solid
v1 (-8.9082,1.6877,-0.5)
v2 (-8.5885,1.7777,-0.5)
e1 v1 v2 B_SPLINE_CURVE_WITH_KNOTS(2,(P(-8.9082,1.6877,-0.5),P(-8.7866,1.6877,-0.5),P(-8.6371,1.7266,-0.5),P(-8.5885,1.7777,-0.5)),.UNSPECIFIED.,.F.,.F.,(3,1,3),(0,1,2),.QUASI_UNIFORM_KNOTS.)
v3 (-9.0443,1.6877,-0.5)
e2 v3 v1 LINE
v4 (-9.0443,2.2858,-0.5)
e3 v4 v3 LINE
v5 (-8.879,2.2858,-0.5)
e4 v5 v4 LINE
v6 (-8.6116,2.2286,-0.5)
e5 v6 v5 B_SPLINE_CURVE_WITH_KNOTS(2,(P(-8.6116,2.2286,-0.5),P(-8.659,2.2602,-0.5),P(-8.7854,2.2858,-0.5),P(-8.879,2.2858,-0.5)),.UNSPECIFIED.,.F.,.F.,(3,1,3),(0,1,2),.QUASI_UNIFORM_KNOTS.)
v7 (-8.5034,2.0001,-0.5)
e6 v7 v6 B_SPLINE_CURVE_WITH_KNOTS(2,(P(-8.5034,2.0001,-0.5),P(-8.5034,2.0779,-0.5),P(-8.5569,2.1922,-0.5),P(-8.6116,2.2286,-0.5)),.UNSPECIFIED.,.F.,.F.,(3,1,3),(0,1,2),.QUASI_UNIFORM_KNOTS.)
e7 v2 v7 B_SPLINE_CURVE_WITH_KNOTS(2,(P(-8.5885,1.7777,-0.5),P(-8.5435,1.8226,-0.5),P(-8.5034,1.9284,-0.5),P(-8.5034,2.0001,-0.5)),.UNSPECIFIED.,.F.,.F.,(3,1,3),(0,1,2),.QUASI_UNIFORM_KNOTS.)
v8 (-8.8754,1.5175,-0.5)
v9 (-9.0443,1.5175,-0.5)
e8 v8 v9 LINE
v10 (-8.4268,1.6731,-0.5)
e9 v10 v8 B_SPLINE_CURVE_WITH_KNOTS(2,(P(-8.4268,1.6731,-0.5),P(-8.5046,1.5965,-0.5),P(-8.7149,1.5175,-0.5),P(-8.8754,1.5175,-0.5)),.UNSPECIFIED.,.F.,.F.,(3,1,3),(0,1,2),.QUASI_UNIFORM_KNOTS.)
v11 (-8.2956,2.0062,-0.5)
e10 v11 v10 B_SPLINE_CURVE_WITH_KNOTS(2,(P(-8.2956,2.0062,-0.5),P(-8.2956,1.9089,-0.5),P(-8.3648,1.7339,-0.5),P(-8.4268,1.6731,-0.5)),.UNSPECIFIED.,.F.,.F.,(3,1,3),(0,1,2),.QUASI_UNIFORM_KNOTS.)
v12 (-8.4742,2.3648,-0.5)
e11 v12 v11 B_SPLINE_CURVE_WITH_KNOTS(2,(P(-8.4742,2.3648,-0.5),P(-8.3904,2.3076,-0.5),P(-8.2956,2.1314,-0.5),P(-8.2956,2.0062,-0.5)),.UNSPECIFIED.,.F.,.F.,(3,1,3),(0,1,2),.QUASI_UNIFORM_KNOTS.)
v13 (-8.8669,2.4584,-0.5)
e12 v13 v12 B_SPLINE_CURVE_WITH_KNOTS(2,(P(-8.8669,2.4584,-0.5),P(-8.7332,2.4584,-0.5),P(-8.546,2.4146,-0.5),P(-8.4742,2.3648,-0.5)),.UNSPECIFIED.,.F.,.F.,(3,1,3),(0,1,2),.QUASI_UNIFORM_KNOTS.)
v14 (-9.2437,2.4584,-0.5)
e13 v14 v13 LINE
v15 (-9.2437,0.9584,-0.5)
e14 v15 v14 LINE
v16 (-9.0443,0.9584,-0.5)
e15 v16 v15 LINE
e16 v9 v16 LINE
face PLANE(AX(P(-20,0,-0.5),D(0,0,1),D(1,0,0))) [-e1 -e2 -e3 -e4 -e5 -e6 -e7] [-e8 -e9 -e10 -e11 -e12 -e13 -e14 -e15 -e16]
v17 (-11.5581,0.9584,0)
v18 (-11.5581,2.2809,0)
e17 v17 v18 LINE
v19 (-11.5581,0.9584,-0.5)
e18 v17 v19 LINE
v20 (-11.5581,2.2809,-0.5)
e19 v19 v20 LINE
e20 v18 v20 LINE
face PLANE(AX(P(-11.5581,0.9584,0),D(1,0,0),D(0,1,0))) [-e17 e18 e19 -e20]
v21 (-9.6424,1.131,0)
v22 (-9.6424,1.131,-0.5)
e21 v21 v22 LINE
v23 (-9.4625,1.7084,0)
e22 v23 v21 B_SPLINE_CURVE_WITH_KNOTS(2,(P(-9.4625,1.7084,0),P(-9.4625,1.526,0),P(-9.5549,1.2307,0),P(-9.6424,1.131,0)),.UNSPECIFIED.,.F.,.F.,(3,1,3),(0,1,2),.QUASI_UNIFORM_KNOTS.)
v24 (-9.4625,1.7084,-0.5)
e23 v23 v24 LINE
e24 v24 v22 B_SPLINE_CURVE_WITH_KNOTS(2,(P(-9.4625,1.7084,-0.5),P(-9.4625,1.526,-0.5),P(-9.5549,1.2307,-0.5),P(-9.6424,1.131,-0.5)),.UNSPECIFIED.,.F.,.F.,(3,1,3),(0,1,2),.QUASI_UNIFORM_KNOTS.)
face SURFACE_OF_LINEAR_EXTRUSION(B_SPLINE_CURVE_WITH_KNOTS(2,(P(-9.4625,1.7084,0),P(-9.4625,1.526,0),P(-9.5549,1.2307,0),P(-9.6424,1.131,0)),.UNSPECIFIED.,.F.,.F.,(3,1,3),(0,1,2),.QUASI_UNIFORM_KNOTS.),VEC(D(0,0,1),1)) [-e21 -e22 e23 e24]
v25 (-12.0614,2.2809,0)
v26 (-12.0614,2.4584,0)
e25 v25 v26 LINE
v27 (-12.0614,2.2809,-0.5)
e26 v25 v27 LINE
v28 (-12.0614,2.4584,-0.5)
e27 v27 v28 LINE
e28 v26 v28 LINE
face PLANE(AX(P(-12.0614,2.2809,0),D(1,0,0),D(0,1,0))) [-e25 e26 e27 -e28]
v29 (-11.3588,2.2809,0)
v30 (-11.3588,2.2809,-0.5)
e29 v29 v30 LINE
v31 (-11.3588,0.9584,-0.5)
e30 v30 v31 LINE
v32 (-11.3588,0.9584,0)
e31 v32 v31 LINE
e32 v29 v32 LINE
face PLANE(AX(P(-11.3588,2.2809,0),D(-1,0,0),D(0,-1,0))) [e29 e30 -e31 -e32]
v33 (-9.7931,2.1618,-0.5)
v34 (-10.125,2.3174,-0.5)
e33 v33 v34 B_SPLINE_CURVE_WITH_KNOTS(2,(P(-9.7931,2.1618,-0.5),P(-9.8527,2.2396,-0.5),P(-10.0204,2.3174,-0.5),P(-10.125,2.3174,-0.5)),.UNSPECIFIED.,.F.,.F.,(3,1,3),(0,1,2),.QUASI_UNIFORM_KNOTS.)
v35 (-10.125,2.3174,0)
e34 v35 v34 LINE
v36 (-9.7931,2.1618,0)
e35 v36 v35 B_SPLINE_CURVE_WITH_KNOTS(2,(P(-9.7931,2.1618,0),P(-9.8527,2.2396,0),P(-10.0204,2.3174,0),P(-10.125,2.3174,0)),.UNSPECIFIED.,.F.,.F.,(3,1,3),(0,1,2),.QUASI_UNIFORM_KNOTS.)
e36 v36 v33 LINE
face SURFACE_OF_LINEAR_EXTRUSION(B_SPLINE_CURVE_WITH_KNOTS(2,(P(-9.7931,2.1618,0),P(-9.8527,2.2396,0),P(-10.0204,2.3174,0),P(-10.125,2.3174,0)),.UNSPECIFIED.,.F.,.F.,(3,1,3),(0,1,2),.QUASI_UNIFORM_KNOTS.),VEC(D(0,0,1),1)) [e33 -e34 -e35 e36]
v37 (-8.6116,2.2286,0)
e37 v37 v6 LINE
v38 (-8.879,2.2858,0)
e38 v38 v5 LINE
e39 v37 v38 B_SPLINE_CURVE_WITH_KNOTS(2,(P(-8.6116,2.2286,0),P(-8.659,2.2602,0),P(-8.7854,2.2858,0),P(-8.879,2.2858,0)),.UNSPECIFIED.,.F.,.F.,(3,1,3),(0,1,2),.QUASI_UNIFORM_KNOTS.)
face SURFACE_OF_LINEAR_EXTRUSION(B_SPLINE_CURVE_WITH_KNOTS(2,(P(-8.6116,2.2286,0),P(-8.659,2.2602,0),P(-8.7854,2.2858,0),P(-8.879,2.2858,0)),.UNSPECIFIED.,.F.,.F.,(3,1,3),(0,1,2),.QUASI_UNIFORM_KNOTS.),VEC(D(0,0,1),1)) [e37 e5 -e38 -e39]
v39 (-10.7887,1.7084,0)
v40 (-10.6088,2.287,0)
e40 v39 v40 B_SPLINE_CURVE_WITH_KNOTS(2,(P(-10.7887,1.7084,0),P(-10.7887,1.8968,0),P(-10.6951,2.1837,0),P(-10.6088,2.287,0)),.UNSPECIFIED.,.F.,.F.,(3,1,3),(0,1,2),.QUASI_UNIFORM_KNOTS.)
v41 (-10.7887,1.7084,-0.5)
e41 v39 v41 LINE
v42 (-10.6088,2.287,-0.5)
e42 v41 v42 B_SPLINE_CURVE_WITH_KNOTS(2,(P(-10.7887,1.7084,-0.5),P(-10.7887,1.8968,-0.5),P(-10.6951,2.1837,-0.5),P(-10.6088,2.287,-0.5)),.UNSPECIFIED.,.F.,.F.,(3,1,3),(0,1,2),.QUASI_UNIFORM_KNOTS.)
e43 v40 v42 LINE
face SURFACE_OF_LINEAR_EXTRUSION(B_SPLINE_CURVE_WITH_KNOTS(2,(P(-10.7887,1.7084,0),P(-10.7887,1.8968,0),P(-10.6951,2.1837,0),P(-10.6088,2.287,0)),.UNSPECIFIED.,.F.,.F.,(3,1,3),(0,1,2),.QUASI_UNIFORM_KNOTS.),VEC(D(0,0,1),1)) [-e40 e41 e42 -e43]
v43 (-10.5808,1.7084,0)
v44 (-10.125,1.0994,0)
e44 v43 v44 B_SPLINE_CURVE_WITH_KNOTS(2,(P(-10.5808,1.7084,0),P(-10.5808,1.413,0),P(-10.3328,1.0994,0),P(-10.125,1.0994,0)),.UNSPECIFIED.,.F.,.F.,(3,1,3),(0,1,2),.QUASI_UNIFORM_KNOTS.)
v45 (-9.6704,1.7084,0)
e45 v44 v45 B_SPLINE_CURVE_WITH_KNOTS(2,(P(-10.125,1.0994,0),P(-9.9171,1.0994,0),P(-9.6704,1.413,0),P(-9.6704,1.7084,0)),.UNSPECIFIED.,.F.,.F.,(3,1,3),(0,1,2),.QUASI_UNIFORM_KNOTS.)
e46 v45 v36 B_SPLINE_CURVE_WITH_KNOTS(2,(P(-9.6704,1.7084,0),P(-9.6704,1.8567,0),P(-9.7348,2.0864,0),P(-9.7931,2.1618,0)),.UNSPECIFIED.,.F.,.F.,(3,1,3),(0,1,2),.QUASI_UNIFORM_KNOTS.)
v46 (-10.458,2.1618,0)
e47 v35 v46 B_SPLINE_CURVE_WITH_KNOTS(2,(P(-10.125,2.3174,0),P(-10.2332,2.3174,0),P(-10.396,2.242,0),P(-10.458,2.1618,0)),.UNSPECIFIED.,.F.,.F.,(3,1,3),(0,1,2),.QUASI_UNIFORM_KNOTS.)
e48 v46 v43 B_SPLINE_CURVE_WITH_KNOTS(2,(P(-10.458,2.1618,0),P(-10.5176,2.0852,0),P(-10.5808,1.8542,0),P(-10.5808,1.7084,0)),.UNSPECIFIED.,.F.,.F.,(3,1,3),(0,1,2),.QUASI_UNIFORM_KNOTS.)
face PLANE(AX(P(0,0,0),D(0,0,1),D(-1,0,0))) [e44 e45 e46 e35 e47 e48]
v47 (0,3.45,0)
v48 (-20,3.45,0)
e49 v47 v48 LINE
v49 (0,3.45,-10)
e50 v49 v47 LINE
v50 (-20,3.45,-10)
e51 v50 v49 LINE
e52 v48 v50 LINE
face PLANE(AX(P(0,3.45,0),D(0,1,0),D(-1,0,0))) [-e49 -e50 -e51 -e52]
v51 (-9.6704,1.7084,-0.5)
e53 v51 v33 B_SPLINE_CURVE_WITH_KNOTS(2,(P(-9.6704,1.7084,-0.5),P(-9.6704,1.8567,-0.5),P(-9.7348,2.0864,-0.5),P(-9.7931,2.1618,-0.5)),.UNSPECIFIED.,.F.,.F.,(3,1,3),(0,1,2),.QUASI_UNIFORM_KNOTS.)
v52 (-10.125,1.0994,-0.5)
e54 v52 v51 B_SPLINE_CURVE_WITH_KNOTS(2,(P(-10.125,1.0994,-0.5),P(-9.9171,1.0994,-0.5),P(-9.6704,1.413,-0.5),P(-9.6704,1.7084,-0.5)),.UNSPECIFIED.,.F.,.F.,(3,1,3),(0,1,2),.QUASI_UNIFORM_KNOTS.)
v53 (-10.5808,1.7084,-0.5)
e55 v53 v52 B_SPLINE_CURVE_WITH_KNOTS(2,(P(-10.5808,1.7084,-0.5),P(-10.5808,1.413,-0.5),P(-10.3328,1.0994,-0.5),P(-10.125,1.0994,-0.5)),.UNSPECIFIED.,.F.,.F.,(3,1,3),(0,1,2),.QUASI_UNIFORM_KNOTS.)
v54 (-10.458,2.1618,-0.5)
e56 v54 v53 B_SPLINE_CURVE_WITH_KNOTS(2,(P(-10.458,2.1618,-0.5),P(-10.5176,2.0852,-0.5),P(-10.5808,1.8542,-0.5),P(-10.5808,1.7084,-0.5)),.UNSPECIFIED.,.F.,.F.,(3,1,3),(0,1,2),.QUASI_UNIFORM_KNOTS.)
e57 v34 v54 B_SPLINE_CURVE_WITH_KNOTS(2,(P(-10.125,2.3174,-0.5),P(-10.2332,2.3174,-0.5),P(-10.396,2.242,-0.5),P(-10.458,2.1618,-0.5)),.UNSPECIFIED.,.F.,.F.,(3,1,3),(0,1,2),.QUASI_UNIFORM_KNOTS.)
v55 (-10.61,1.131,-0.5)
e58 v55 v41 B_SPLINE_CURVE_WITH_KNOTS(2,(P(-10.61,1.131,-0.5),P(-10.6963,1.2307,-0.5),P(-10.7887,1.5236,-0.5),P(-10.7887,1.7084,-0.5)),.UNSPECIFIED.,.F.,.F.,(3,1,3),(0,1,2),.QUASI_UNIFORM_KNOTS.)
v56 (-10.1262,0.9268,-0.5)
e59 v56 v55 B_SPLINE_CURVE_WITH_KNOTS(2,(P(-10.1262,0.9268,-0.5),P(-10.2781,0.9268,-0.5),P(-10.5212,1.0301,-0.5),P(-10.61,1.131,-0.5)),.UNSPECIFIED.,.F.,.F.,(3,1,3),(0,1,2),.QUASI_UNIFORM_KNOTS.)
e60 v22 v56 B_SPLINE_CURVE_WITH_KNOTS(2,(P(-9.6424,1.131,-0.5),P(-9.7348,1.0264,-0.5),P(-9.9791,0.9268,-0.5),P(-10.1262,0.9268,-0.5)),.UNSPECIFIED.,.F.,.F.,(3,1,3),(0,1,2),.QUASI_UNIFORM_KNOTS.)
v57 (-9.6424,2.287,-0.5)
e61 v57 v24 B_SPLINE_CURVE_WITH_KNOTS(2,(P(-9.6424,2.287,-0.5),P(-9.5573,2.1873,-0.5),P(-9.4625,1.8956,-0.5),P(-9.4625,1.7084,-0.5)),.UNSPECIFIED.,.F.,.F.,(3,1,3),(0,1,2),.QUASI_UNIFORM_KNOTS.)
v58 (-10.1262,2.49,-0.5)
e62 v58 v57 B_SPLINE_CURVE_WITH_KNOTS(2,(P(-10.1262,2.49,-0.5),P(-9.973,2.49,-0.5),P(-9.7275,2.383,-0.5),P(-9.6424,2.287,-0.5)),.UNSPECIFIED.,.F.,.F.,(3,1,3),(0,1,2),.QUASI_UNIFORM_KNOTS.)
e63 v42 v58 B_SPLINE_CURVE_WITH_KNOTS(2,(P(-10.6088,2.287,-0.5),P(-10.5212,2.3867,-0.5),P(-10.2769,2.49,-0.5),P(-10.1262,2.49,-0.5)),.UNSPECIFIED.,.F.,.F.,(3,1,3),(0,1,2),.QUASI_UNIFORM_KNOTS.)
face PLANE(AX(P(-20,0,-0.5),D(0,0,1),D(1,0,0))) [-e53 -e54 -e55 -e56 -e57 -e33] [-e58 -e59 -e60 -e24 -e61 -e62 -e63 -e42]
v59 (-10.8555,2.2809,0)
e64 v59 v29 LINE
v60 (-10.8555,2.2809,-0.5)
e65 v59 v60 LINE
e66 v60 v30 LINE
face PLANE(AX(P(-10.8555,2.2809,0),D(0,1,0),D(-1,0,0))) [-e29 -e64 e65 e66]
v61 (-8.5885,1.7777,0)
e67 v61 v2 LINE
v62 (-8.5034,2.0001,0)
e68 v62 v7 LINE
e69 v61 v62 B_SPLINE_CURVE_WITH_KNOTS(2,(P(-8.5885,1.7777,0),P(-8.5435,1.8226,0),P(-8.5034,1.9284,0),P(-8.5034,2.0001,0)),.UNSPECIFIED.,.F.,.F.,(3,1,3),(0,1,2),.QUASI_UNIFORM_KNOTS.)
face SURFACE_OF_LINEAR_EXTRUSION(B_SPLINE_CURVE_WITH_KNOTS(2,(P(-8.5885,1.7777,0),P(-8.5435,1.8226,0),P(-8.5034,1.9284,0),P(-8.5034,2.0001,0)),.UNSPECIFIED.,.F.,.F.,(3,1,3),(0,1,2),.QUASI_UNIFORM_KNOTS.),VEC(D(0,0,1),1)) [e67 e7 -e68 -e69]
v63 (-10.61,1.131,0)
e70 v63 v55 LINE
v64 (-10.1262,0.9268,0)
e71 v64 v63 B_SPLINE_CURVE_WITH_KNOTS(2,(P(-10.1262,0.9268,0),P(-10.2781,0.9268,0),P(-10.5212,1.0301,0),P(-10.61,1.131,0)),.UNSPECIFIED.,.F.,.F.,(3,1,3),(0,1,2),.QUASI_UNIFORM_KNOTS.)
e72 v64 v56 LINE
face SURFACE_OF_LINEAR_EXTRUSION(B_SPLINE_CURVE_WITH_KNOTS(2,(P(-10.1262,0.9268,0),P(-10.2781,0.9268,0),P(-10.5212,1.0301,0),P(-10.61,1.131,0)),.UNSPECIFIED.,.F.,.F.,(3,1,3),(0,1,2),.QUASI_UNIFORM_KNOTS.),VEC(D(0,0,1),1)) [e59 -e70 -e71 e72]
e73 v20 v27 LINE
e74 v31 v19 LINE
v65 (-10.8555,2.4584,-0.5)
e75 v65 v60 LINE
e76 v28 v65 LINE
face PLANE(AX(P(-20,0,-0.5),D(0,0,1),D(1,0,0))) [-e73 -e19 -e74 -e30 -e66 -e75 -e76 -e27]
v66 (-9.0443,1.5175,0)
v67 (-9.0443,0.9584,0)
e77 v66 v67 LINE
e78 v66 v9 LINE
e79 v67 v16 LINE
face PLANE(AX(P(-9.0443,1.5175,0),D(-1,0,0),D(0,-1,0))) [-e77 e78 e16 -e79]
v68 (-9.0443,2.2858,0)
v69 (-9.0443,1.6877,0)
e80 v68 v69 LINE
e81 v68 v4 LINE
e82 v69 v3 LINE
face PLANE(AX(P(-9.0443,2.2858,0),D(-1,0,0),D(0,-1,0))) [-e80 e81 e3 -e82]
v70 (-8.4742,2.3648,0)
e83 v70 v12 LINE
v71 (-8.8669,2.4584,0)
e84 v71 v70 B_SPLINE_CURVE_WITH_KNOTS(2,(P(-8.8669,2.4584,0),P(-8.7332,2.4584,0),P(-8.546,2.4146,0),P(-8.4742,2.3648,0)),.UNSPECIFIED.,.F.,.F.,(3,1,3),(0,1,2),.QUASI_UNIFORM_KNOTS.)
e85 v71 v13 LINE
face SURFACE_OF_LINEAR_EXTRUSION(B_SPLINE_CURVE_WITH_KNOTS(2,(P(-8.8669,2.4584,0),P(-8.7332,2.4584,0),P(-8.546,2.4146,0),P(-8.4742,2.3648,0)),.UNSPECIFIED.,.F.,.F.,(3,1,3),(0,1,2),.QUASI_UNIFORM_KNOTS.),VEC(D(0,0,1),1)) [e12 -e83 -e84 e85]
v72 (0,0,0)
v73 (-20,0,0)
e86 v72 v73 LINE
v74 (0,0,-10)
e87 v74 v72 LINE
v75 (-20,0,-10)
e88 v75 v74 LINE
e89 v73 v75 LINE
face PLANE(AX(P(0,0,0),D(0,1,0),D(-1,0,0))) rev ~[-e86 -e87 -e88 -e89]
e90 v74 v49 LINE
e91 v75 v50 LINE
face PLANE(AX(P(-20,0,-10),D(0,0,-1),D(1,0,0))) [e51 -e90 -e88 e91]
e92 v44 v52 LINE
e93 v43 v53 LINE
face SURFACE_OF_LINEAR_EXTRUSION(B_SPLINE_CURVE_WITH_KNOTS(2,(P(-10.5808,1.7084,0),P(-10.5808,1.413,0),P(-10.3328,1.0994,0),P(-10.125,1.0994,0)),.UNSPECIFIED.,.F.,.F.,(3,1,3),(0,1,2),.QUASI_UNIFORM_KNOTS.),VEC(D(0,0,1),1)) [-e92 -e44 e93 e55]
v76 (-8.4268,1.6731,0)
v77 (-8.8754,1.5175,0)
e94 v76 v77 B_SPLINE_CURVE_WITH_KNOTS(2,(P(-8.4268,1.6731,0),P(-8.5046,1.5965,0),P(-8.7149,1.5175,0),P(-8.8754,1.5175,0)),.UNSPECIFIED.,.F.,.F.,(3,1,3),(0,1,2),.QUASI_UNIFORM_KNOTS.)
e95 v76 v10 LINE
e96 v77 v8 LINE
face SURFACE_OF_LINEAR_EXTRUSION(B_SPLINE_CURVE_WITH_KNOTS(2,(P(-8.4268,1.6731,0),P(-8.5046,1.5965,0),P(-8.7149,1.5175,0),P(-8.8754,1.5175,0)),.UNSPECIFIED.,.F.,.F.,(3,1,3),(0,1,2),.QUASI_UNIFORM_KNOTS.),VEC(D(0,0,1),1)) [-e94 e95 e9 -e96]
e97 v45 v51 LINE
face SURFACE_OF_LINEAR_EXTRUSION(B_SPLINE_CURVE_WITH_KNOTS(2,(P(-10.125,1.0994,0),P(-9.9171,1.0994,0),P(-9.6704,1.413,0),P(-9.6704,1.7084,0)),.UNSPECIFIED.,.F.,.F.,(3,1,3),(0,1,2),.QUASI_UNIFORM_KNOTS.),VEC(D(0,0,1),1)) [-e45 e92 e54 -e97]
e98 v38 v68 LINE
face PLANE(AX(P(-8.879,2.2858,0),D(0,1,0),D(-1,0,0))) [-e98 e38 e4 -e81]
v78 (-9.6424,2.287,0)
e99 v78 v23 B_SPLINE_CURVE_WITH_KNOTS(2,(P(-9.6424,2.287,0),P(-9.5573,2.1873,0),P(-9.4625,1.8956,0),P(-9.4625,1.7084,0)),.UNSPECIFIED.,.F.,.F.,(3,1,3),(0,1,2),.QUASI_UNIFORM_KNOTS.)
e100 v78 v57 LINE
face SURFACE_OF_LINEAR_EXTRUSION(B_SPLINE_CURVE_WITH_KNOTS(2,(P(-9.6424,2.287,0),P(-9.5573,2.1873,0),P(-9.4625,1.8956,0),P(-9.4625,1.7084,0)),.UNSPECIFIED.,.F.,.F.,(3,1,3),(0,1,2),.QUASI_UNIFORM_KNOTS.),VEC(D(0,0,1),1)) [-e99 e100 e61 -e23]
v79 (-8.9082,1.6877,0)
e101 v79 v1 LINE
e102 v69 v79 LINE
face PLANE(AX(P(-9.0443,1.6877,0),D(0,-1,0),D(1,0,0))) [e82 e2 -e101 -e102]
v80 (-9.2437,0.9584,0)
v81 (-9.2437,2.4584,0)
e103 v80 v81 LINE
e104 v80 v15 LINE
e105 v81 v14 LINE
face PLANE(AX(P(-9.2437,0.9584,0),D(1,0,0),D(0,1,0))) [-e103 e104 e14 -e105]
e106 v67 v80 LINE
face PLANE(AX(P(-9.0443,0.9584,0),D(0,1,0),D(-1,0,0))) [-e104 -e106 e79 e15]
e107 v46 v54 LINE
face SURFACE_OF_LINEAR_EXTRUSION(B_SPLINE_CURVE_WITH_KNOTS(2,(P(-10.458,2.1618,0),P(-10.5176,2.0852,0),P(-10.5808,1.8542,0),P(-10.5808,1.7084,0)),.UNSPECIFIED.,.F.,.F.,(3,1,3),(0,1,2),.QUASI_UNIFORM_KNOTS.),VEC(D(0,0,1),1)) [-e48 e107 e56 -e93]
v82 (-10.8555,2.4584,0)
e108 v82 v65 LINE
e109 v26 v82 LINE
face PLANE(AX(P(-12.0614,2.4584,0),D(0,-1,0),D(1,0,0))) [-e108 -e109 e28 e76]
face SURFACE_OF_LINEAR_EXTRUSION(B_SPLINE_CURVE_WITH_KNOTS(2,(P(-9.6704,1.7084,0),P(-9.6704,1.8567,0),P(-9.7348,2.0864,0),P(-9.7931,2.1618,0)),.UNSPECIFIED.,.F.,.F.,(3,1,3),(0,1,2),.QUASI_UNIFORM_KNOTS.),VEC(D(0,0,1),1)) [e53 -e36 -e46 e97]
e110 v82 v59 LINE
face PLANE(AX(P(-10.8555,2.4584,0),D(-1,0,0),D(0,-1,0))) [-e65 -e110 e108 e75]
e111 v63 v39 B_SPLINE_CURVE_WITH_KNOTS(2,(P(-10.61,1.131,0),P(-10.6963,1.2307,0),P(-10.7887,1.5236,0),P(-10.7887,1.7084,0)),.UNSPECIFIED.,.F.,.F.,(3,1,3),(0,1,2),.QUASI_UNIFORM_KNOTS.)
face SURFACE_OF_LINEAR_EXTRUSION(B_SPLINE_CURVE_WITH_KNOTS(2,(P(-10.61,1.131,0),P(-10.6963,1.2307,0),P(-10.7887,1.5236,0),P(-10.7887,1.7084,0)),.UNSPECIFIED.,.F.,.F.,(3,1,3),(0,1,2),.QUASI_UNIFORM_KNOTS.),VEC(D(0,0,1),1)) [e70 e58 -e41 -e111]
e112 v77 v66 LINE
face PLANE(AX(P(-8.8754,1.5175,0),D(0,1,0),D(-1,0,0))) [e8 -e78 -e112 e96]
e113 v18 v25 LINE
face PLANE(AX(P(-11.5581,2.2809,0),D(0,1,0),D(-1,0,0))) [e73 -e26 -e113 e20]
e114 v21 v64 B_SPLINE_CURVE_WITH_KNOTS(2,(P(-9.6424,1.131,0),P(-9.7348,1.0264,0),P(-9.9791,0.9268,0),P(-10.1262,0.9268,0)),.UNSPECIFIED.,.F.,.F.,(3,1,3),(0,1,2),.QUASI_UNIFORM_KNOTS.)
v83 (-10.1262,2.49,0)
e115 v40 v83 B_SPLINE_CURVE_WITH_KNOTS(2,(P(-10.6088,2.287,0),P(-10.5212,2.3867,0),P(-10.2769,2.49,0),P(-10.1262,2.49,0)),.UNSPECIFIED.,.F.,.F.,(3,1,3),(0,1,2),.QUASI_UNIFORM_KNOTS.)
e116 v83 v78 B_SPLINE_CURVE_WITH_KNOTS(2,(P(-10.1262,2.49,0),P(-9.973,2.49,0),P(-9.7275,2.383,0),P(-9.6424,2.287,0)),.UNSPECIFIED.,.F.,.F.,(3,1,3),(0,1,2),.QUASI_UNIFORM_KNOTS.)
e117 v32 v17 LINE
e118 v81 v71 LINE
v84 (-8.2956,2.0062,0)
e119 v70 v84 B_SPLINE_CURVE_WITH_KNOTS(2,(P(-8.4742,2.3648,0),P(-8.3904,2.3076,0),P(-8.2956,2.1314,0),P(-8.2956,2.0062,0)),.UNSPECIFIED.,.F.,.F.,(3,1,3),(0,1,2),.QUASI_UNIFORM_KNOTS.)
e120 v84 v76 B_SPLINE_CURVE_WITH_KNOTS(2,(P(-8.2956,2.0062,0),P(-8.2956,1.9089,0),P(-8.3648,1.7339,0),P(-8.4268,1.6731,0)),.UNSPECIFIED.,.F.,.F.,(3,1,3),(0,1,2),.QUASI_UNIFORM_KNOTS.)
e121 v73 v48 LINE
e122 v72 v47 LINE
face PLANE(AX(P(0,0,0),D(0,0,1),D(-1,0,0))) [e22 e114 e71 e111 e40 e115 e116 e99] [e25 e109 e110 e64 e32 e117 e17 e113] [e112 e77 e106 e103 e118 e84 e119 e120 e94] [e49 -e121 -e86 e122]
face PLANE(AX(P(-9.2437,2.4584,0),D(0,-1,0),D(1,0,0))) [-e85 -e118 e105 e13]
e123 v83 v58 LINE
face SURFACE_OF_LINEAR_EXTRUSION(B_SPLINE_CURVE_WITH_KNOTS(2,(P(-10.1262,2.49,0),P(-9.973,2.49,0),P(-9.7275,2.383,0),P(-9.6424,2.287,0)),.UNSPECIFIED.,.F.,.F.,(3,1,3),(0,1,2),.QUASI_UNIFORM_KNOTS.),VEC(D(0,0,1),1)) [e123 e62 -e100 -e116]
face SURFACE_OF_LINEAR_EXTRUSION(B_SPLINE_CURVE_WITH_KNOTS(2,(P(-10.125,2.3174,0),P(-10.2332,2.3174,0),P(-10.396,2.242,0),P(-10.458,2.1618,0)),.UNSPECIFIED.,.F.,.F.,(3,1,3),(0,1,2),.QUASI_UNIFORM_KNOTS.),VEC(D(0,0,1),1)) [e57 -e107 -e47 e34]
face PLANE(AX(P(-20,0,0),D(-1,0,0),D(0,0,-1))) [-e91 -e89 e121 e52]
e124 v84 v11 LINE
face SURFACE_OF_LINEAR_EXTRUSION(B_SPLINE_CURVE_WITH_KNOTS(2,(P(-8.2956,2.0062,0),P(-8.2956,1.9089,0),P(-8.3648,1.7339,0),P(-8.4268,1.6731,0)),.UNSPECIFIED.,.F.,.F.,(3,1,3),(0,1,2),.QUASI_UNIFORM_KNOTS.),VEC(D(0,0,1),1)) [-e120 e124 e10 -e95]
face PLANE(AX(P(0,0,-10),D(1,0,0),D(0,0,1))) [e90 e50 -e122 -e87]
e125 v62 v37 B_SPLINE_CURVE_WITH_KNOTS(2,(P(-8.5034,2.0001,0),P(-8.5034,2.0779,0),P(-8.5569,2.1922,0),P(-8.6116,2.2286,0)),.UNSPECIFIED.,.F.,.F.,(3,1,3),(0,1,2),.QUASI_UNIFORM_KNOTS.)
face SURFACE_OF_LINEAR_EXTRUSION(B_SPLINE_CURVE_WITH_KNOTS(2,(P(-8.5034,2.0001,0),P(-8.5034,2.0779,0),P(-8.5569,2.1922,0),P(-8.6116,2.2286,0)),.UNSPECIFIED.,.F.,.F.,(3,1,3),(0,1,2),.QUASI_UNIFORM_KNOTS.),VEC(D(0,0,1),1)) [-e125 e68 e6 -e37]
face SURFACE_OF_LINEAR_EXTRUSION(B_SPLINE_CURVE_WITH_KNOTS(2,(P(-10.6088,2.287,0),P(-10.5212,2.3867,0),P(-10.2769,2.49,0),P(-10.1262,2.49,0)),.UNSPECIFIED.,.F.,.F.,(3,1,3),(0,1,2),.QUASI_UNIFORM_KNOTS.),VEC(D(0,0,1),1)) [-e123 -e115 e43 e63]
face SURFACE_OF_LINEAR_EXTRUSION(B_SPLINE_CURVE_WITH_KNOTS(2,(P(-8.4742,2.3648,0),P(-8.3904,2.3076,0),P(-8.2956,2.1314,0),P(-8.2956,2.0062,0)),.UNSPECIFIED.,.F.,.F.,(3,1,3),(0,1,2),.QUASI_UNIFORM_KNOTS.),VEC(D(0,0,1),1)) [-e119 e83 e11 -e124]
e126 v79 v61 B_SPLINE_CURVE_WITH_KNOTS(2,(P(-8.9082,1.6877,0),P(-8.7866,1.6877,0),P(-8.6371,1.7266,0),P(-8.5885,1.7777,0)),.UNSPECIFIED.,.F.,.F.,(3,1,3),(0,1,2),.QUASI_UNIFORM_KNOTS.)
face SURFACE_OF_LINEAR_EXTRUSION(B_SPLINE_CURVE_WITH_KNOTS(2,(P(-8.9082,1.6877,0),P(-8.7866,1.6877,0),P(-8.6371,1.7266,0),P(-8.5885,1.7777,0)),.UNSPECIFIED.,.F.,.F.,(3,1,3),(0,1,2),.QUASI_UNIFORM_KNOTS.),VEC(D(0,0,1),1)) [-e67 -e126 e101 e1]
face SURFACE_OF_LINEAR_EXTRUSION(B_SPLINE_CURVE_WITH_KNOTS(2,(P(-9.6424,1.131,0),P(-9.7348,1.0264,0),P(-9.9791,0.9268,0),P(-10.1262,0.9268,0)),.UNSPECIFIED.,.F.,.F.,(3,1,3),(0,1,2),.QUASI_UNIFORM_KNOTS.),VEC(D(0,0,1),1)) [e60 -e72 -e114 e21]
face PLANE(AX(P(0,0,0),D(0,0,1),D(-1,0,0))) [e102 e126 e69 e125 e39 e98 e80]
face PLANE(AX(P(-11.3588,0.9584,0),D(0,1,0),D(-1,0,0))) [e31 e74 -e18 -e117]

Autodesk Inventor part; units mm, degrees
ref_plane "YZ Plane" through (0, 0, 0) normal (1, 0, 0) x (0, 1, 0)
ref_plane "XZ Plane" through (0, 0, 0) normal (0, 1, 0) x (-1, 0, 0)
ref_plane "XY Plane" through (0, 0, 0) normal (0, 0, 1) x (1, 0, 0)
sketch "Sketch1" plane through (0, 0, 0) normal (0, 1, 0) x (-1, 0, 0)
  line L0 (0, 0) -> (20, 0)
  line L1 (20, 0) -> (20, -10)
  line L2 (20, -10) -> (0, -10)
  line L3 (0, -10) -> (0, 0)
  dimension "d0" = 20
  dimension "d1" = 10
extrude "Extrusion1" add sketch "Sketch1" along normal blind 3.45
sketch "Sketch2" plane through (-20, 0, 0) normal (0, 0, 1) x (1, 0, 0)
  line L0 (7.9399, 2.49) -> (16.3941, 2.49) construction
  line L1 (16.3941, 2.49) -> (16.3941, 0.9734) construction
  line L2 (16.3941, 0.9734) -> (7.9399, 0.9734) construction
  line L3 (7.9399, 0.9734) -> (7.9399, 2.49) construction
  line L4 (8.4419, 0.9584) -> (8.4419, 2.2809)
  line L5 (8.4419, 2.2809) -> (7.9386, 2.2809)
  line L6 (7.9386, 2.2809) -> (7.9386, 2.4584)
  line L7 (7.9386, 2.4584) -> (9.1445, 2.4584)
  line L8 (9.1445, 2.4584) -> (9.1445, 2.2809)
  line L9 (9.1445, 2.2809) -> (8.6412, 2.2809)
  line L10 (8.6412, 2.2809) -> (8.6412, 0.9584)
  line L11 (8.6412, 0.9584) -> (8.4419, 0.9584)
  spline S0 degree 2 poles (10.3576, 2.287) (10.4427, 2.1873) (10.5375, 1.8956) (10.5375, 1.7084) knots 0 0 0 1 2 2 2
  spline S1 degree 2 poles (10.5375, 1.7084) (10.5375, 1.526) (10.4451, 1.2307) (10.3576, 1.131) knots 0 0 0 1 2 2 2
  spline S2 degree 2 poles (10.3576, 1.131) (10.2652, 1.0264) (10.0209, 0.9268) (9.8738, 0.9268) knots 0 0 0 1 2 2 2
  spline S3 degree 2 poles (9.8738, 0.9268) (9.7219, 0.9268) (9.4788, 1.0301) (9.39, 1.131) knots 0 0 0 1 2 2 2
  spline S4 degree 2 poles (9.39, 1.131) (9.3037, 1.2307) (9.2113, 1.5236) (9.2113, 1.7084) knots 0 0 0 1 2 2 2
  spline S5 degree 2 poles (9.2113, 1.7084) (9.2113, 1.8968) (9.3049, 2.1837) (9.3912, 2.287) knots 0 0 0 1 2 2 2
  spline S6 degree 2 poles (9.3912, 2.287) (9.4788, 2.3867) (9.7231, 2.49) (9.8738, 2.49) knots 0 0 0 1 2 2 2
  spline S7 degree 2 poles (9.8738, 2.49) (10.027, 2.49) (10.2725, 2.383) (10.3576, 2.287) knots 0 0 0 1 2 2 2
  spline S8 degree 2 poles (10.3296, 1.7084) (10.3296, 1.8567) (10.2652, 2.0864) (10.2069, 2.1618) knots 0 0 0 1 2 2 2
  spline S9 degree 2 poles (10.2069, 2.1618) (10.1473, 2.2396) (9.9796, 2.3174) (9.875, 2.3174) knots 0 0 0 1 2 2 2
  spline S10 degree 2 poles (9.875, 2.3174) (9.7668, 2.3174) (9.604, 2.242) (9.542, 2.1618) knots 0 0 0 1 2 2 2
  spline S11 degree 2 poles (9.542, 2.1618) (9.4824, 2.0852) (9.4192, 1.8542) (9.4192, 1.7084) knots 0 0 0 1 2 2 2
  spline S12 degree 2 poles (9.4192, 1.7084) (9.4192, 1.413) (9.6672, 1.0994) (9.875, 1.0994) knots 0 0 0 1 2 2 2
  spline S13 degree 2 poles (9.875, 1.0994) (10.0829, 1.0994) (10.3296, 1.413) (10.3296, 1.7084) knots 0 0 0 1 2 2 2
  spline S14 degree 2 poles (11.7044, 2.0062) (11.7044, 1.9089) (11.6352, 1.7339) (11.5732, 1.6731) knots 0 0 0 1 2 2 2
  spline S15 degree 2 poles (11.5732, 1.6731) (11.4954, 1.5965) (11.2851, 1.5175) (11.1246, 1.5175) knots 0 0 0 1 2 2 2
  line L12 (11.1246, 1.5175) -> (10.9557, 1.5175)
  line L13 (10.9557, 1.5175) -> (10.9557, 0.9584)
  line L14 (10.9557, 0.9584) -> (10.7563, 0.9584)
  line L15 (10.7563, 0.9584) -> (10.7563, 2.4584)
  line L16 (10.7563, 2.4584) -> (11.1331, 2.4584)
  spline S16 degree 2 poles (11.1331, 2.4584) (11.2668, 2.4584) (11.454, 2.4146) (11.5258, 2.3648) knots 0 0 0 1 2 2 2
  spline S17 degree 2 poles (11.5258, 2.3648) (11.6096, 2.3076) (11.7044, 2.1314) (11.7044, 2.0062) knots 0 0 0 1 2 2 2
  spline S18 degree 2 poles (11.4966, 2.0001) (11.4966, 2.0779) (11.4431, 2.1922) (11.3884, 2.2286) knots 0 0 0 1 2 2 2
  spline S19 degree 2 poles (11.3884, 2.2286) (11.341, 2.2602) (11.2146, 2.2858) (11.121, 2.2858) knots 0 0 0 1 2 2 2
  line L17 (11.121, 2.2858) -> (10.9557, 2.2858)
  line L18 (10.9557, 2.2858) -> (10.9557, 1.6877)
  line L19 (10.9557, 1.6877) -> (11.0918, 1.6877)
  spline S20 degree 2 poles (11.0918, 1.6877) (11.2134, 1.6877) (11.3629, 1.7266) (11.4115, 1.7777) knots 0 0 0 1 2 2 2
  spline S21 degree 2 poles (11.4115, 1.7777) (11.4565, 1.8226) (11.4966, 1.9284) (11.4966, 2.0001) knots 0 0 0 1 2 2 2
  point P0 (20, 0)
extrude "Extrusion4" cut sketch "Sketch2" against normal blind 0.5
properties part number "cable_jig_3.5_shim"
